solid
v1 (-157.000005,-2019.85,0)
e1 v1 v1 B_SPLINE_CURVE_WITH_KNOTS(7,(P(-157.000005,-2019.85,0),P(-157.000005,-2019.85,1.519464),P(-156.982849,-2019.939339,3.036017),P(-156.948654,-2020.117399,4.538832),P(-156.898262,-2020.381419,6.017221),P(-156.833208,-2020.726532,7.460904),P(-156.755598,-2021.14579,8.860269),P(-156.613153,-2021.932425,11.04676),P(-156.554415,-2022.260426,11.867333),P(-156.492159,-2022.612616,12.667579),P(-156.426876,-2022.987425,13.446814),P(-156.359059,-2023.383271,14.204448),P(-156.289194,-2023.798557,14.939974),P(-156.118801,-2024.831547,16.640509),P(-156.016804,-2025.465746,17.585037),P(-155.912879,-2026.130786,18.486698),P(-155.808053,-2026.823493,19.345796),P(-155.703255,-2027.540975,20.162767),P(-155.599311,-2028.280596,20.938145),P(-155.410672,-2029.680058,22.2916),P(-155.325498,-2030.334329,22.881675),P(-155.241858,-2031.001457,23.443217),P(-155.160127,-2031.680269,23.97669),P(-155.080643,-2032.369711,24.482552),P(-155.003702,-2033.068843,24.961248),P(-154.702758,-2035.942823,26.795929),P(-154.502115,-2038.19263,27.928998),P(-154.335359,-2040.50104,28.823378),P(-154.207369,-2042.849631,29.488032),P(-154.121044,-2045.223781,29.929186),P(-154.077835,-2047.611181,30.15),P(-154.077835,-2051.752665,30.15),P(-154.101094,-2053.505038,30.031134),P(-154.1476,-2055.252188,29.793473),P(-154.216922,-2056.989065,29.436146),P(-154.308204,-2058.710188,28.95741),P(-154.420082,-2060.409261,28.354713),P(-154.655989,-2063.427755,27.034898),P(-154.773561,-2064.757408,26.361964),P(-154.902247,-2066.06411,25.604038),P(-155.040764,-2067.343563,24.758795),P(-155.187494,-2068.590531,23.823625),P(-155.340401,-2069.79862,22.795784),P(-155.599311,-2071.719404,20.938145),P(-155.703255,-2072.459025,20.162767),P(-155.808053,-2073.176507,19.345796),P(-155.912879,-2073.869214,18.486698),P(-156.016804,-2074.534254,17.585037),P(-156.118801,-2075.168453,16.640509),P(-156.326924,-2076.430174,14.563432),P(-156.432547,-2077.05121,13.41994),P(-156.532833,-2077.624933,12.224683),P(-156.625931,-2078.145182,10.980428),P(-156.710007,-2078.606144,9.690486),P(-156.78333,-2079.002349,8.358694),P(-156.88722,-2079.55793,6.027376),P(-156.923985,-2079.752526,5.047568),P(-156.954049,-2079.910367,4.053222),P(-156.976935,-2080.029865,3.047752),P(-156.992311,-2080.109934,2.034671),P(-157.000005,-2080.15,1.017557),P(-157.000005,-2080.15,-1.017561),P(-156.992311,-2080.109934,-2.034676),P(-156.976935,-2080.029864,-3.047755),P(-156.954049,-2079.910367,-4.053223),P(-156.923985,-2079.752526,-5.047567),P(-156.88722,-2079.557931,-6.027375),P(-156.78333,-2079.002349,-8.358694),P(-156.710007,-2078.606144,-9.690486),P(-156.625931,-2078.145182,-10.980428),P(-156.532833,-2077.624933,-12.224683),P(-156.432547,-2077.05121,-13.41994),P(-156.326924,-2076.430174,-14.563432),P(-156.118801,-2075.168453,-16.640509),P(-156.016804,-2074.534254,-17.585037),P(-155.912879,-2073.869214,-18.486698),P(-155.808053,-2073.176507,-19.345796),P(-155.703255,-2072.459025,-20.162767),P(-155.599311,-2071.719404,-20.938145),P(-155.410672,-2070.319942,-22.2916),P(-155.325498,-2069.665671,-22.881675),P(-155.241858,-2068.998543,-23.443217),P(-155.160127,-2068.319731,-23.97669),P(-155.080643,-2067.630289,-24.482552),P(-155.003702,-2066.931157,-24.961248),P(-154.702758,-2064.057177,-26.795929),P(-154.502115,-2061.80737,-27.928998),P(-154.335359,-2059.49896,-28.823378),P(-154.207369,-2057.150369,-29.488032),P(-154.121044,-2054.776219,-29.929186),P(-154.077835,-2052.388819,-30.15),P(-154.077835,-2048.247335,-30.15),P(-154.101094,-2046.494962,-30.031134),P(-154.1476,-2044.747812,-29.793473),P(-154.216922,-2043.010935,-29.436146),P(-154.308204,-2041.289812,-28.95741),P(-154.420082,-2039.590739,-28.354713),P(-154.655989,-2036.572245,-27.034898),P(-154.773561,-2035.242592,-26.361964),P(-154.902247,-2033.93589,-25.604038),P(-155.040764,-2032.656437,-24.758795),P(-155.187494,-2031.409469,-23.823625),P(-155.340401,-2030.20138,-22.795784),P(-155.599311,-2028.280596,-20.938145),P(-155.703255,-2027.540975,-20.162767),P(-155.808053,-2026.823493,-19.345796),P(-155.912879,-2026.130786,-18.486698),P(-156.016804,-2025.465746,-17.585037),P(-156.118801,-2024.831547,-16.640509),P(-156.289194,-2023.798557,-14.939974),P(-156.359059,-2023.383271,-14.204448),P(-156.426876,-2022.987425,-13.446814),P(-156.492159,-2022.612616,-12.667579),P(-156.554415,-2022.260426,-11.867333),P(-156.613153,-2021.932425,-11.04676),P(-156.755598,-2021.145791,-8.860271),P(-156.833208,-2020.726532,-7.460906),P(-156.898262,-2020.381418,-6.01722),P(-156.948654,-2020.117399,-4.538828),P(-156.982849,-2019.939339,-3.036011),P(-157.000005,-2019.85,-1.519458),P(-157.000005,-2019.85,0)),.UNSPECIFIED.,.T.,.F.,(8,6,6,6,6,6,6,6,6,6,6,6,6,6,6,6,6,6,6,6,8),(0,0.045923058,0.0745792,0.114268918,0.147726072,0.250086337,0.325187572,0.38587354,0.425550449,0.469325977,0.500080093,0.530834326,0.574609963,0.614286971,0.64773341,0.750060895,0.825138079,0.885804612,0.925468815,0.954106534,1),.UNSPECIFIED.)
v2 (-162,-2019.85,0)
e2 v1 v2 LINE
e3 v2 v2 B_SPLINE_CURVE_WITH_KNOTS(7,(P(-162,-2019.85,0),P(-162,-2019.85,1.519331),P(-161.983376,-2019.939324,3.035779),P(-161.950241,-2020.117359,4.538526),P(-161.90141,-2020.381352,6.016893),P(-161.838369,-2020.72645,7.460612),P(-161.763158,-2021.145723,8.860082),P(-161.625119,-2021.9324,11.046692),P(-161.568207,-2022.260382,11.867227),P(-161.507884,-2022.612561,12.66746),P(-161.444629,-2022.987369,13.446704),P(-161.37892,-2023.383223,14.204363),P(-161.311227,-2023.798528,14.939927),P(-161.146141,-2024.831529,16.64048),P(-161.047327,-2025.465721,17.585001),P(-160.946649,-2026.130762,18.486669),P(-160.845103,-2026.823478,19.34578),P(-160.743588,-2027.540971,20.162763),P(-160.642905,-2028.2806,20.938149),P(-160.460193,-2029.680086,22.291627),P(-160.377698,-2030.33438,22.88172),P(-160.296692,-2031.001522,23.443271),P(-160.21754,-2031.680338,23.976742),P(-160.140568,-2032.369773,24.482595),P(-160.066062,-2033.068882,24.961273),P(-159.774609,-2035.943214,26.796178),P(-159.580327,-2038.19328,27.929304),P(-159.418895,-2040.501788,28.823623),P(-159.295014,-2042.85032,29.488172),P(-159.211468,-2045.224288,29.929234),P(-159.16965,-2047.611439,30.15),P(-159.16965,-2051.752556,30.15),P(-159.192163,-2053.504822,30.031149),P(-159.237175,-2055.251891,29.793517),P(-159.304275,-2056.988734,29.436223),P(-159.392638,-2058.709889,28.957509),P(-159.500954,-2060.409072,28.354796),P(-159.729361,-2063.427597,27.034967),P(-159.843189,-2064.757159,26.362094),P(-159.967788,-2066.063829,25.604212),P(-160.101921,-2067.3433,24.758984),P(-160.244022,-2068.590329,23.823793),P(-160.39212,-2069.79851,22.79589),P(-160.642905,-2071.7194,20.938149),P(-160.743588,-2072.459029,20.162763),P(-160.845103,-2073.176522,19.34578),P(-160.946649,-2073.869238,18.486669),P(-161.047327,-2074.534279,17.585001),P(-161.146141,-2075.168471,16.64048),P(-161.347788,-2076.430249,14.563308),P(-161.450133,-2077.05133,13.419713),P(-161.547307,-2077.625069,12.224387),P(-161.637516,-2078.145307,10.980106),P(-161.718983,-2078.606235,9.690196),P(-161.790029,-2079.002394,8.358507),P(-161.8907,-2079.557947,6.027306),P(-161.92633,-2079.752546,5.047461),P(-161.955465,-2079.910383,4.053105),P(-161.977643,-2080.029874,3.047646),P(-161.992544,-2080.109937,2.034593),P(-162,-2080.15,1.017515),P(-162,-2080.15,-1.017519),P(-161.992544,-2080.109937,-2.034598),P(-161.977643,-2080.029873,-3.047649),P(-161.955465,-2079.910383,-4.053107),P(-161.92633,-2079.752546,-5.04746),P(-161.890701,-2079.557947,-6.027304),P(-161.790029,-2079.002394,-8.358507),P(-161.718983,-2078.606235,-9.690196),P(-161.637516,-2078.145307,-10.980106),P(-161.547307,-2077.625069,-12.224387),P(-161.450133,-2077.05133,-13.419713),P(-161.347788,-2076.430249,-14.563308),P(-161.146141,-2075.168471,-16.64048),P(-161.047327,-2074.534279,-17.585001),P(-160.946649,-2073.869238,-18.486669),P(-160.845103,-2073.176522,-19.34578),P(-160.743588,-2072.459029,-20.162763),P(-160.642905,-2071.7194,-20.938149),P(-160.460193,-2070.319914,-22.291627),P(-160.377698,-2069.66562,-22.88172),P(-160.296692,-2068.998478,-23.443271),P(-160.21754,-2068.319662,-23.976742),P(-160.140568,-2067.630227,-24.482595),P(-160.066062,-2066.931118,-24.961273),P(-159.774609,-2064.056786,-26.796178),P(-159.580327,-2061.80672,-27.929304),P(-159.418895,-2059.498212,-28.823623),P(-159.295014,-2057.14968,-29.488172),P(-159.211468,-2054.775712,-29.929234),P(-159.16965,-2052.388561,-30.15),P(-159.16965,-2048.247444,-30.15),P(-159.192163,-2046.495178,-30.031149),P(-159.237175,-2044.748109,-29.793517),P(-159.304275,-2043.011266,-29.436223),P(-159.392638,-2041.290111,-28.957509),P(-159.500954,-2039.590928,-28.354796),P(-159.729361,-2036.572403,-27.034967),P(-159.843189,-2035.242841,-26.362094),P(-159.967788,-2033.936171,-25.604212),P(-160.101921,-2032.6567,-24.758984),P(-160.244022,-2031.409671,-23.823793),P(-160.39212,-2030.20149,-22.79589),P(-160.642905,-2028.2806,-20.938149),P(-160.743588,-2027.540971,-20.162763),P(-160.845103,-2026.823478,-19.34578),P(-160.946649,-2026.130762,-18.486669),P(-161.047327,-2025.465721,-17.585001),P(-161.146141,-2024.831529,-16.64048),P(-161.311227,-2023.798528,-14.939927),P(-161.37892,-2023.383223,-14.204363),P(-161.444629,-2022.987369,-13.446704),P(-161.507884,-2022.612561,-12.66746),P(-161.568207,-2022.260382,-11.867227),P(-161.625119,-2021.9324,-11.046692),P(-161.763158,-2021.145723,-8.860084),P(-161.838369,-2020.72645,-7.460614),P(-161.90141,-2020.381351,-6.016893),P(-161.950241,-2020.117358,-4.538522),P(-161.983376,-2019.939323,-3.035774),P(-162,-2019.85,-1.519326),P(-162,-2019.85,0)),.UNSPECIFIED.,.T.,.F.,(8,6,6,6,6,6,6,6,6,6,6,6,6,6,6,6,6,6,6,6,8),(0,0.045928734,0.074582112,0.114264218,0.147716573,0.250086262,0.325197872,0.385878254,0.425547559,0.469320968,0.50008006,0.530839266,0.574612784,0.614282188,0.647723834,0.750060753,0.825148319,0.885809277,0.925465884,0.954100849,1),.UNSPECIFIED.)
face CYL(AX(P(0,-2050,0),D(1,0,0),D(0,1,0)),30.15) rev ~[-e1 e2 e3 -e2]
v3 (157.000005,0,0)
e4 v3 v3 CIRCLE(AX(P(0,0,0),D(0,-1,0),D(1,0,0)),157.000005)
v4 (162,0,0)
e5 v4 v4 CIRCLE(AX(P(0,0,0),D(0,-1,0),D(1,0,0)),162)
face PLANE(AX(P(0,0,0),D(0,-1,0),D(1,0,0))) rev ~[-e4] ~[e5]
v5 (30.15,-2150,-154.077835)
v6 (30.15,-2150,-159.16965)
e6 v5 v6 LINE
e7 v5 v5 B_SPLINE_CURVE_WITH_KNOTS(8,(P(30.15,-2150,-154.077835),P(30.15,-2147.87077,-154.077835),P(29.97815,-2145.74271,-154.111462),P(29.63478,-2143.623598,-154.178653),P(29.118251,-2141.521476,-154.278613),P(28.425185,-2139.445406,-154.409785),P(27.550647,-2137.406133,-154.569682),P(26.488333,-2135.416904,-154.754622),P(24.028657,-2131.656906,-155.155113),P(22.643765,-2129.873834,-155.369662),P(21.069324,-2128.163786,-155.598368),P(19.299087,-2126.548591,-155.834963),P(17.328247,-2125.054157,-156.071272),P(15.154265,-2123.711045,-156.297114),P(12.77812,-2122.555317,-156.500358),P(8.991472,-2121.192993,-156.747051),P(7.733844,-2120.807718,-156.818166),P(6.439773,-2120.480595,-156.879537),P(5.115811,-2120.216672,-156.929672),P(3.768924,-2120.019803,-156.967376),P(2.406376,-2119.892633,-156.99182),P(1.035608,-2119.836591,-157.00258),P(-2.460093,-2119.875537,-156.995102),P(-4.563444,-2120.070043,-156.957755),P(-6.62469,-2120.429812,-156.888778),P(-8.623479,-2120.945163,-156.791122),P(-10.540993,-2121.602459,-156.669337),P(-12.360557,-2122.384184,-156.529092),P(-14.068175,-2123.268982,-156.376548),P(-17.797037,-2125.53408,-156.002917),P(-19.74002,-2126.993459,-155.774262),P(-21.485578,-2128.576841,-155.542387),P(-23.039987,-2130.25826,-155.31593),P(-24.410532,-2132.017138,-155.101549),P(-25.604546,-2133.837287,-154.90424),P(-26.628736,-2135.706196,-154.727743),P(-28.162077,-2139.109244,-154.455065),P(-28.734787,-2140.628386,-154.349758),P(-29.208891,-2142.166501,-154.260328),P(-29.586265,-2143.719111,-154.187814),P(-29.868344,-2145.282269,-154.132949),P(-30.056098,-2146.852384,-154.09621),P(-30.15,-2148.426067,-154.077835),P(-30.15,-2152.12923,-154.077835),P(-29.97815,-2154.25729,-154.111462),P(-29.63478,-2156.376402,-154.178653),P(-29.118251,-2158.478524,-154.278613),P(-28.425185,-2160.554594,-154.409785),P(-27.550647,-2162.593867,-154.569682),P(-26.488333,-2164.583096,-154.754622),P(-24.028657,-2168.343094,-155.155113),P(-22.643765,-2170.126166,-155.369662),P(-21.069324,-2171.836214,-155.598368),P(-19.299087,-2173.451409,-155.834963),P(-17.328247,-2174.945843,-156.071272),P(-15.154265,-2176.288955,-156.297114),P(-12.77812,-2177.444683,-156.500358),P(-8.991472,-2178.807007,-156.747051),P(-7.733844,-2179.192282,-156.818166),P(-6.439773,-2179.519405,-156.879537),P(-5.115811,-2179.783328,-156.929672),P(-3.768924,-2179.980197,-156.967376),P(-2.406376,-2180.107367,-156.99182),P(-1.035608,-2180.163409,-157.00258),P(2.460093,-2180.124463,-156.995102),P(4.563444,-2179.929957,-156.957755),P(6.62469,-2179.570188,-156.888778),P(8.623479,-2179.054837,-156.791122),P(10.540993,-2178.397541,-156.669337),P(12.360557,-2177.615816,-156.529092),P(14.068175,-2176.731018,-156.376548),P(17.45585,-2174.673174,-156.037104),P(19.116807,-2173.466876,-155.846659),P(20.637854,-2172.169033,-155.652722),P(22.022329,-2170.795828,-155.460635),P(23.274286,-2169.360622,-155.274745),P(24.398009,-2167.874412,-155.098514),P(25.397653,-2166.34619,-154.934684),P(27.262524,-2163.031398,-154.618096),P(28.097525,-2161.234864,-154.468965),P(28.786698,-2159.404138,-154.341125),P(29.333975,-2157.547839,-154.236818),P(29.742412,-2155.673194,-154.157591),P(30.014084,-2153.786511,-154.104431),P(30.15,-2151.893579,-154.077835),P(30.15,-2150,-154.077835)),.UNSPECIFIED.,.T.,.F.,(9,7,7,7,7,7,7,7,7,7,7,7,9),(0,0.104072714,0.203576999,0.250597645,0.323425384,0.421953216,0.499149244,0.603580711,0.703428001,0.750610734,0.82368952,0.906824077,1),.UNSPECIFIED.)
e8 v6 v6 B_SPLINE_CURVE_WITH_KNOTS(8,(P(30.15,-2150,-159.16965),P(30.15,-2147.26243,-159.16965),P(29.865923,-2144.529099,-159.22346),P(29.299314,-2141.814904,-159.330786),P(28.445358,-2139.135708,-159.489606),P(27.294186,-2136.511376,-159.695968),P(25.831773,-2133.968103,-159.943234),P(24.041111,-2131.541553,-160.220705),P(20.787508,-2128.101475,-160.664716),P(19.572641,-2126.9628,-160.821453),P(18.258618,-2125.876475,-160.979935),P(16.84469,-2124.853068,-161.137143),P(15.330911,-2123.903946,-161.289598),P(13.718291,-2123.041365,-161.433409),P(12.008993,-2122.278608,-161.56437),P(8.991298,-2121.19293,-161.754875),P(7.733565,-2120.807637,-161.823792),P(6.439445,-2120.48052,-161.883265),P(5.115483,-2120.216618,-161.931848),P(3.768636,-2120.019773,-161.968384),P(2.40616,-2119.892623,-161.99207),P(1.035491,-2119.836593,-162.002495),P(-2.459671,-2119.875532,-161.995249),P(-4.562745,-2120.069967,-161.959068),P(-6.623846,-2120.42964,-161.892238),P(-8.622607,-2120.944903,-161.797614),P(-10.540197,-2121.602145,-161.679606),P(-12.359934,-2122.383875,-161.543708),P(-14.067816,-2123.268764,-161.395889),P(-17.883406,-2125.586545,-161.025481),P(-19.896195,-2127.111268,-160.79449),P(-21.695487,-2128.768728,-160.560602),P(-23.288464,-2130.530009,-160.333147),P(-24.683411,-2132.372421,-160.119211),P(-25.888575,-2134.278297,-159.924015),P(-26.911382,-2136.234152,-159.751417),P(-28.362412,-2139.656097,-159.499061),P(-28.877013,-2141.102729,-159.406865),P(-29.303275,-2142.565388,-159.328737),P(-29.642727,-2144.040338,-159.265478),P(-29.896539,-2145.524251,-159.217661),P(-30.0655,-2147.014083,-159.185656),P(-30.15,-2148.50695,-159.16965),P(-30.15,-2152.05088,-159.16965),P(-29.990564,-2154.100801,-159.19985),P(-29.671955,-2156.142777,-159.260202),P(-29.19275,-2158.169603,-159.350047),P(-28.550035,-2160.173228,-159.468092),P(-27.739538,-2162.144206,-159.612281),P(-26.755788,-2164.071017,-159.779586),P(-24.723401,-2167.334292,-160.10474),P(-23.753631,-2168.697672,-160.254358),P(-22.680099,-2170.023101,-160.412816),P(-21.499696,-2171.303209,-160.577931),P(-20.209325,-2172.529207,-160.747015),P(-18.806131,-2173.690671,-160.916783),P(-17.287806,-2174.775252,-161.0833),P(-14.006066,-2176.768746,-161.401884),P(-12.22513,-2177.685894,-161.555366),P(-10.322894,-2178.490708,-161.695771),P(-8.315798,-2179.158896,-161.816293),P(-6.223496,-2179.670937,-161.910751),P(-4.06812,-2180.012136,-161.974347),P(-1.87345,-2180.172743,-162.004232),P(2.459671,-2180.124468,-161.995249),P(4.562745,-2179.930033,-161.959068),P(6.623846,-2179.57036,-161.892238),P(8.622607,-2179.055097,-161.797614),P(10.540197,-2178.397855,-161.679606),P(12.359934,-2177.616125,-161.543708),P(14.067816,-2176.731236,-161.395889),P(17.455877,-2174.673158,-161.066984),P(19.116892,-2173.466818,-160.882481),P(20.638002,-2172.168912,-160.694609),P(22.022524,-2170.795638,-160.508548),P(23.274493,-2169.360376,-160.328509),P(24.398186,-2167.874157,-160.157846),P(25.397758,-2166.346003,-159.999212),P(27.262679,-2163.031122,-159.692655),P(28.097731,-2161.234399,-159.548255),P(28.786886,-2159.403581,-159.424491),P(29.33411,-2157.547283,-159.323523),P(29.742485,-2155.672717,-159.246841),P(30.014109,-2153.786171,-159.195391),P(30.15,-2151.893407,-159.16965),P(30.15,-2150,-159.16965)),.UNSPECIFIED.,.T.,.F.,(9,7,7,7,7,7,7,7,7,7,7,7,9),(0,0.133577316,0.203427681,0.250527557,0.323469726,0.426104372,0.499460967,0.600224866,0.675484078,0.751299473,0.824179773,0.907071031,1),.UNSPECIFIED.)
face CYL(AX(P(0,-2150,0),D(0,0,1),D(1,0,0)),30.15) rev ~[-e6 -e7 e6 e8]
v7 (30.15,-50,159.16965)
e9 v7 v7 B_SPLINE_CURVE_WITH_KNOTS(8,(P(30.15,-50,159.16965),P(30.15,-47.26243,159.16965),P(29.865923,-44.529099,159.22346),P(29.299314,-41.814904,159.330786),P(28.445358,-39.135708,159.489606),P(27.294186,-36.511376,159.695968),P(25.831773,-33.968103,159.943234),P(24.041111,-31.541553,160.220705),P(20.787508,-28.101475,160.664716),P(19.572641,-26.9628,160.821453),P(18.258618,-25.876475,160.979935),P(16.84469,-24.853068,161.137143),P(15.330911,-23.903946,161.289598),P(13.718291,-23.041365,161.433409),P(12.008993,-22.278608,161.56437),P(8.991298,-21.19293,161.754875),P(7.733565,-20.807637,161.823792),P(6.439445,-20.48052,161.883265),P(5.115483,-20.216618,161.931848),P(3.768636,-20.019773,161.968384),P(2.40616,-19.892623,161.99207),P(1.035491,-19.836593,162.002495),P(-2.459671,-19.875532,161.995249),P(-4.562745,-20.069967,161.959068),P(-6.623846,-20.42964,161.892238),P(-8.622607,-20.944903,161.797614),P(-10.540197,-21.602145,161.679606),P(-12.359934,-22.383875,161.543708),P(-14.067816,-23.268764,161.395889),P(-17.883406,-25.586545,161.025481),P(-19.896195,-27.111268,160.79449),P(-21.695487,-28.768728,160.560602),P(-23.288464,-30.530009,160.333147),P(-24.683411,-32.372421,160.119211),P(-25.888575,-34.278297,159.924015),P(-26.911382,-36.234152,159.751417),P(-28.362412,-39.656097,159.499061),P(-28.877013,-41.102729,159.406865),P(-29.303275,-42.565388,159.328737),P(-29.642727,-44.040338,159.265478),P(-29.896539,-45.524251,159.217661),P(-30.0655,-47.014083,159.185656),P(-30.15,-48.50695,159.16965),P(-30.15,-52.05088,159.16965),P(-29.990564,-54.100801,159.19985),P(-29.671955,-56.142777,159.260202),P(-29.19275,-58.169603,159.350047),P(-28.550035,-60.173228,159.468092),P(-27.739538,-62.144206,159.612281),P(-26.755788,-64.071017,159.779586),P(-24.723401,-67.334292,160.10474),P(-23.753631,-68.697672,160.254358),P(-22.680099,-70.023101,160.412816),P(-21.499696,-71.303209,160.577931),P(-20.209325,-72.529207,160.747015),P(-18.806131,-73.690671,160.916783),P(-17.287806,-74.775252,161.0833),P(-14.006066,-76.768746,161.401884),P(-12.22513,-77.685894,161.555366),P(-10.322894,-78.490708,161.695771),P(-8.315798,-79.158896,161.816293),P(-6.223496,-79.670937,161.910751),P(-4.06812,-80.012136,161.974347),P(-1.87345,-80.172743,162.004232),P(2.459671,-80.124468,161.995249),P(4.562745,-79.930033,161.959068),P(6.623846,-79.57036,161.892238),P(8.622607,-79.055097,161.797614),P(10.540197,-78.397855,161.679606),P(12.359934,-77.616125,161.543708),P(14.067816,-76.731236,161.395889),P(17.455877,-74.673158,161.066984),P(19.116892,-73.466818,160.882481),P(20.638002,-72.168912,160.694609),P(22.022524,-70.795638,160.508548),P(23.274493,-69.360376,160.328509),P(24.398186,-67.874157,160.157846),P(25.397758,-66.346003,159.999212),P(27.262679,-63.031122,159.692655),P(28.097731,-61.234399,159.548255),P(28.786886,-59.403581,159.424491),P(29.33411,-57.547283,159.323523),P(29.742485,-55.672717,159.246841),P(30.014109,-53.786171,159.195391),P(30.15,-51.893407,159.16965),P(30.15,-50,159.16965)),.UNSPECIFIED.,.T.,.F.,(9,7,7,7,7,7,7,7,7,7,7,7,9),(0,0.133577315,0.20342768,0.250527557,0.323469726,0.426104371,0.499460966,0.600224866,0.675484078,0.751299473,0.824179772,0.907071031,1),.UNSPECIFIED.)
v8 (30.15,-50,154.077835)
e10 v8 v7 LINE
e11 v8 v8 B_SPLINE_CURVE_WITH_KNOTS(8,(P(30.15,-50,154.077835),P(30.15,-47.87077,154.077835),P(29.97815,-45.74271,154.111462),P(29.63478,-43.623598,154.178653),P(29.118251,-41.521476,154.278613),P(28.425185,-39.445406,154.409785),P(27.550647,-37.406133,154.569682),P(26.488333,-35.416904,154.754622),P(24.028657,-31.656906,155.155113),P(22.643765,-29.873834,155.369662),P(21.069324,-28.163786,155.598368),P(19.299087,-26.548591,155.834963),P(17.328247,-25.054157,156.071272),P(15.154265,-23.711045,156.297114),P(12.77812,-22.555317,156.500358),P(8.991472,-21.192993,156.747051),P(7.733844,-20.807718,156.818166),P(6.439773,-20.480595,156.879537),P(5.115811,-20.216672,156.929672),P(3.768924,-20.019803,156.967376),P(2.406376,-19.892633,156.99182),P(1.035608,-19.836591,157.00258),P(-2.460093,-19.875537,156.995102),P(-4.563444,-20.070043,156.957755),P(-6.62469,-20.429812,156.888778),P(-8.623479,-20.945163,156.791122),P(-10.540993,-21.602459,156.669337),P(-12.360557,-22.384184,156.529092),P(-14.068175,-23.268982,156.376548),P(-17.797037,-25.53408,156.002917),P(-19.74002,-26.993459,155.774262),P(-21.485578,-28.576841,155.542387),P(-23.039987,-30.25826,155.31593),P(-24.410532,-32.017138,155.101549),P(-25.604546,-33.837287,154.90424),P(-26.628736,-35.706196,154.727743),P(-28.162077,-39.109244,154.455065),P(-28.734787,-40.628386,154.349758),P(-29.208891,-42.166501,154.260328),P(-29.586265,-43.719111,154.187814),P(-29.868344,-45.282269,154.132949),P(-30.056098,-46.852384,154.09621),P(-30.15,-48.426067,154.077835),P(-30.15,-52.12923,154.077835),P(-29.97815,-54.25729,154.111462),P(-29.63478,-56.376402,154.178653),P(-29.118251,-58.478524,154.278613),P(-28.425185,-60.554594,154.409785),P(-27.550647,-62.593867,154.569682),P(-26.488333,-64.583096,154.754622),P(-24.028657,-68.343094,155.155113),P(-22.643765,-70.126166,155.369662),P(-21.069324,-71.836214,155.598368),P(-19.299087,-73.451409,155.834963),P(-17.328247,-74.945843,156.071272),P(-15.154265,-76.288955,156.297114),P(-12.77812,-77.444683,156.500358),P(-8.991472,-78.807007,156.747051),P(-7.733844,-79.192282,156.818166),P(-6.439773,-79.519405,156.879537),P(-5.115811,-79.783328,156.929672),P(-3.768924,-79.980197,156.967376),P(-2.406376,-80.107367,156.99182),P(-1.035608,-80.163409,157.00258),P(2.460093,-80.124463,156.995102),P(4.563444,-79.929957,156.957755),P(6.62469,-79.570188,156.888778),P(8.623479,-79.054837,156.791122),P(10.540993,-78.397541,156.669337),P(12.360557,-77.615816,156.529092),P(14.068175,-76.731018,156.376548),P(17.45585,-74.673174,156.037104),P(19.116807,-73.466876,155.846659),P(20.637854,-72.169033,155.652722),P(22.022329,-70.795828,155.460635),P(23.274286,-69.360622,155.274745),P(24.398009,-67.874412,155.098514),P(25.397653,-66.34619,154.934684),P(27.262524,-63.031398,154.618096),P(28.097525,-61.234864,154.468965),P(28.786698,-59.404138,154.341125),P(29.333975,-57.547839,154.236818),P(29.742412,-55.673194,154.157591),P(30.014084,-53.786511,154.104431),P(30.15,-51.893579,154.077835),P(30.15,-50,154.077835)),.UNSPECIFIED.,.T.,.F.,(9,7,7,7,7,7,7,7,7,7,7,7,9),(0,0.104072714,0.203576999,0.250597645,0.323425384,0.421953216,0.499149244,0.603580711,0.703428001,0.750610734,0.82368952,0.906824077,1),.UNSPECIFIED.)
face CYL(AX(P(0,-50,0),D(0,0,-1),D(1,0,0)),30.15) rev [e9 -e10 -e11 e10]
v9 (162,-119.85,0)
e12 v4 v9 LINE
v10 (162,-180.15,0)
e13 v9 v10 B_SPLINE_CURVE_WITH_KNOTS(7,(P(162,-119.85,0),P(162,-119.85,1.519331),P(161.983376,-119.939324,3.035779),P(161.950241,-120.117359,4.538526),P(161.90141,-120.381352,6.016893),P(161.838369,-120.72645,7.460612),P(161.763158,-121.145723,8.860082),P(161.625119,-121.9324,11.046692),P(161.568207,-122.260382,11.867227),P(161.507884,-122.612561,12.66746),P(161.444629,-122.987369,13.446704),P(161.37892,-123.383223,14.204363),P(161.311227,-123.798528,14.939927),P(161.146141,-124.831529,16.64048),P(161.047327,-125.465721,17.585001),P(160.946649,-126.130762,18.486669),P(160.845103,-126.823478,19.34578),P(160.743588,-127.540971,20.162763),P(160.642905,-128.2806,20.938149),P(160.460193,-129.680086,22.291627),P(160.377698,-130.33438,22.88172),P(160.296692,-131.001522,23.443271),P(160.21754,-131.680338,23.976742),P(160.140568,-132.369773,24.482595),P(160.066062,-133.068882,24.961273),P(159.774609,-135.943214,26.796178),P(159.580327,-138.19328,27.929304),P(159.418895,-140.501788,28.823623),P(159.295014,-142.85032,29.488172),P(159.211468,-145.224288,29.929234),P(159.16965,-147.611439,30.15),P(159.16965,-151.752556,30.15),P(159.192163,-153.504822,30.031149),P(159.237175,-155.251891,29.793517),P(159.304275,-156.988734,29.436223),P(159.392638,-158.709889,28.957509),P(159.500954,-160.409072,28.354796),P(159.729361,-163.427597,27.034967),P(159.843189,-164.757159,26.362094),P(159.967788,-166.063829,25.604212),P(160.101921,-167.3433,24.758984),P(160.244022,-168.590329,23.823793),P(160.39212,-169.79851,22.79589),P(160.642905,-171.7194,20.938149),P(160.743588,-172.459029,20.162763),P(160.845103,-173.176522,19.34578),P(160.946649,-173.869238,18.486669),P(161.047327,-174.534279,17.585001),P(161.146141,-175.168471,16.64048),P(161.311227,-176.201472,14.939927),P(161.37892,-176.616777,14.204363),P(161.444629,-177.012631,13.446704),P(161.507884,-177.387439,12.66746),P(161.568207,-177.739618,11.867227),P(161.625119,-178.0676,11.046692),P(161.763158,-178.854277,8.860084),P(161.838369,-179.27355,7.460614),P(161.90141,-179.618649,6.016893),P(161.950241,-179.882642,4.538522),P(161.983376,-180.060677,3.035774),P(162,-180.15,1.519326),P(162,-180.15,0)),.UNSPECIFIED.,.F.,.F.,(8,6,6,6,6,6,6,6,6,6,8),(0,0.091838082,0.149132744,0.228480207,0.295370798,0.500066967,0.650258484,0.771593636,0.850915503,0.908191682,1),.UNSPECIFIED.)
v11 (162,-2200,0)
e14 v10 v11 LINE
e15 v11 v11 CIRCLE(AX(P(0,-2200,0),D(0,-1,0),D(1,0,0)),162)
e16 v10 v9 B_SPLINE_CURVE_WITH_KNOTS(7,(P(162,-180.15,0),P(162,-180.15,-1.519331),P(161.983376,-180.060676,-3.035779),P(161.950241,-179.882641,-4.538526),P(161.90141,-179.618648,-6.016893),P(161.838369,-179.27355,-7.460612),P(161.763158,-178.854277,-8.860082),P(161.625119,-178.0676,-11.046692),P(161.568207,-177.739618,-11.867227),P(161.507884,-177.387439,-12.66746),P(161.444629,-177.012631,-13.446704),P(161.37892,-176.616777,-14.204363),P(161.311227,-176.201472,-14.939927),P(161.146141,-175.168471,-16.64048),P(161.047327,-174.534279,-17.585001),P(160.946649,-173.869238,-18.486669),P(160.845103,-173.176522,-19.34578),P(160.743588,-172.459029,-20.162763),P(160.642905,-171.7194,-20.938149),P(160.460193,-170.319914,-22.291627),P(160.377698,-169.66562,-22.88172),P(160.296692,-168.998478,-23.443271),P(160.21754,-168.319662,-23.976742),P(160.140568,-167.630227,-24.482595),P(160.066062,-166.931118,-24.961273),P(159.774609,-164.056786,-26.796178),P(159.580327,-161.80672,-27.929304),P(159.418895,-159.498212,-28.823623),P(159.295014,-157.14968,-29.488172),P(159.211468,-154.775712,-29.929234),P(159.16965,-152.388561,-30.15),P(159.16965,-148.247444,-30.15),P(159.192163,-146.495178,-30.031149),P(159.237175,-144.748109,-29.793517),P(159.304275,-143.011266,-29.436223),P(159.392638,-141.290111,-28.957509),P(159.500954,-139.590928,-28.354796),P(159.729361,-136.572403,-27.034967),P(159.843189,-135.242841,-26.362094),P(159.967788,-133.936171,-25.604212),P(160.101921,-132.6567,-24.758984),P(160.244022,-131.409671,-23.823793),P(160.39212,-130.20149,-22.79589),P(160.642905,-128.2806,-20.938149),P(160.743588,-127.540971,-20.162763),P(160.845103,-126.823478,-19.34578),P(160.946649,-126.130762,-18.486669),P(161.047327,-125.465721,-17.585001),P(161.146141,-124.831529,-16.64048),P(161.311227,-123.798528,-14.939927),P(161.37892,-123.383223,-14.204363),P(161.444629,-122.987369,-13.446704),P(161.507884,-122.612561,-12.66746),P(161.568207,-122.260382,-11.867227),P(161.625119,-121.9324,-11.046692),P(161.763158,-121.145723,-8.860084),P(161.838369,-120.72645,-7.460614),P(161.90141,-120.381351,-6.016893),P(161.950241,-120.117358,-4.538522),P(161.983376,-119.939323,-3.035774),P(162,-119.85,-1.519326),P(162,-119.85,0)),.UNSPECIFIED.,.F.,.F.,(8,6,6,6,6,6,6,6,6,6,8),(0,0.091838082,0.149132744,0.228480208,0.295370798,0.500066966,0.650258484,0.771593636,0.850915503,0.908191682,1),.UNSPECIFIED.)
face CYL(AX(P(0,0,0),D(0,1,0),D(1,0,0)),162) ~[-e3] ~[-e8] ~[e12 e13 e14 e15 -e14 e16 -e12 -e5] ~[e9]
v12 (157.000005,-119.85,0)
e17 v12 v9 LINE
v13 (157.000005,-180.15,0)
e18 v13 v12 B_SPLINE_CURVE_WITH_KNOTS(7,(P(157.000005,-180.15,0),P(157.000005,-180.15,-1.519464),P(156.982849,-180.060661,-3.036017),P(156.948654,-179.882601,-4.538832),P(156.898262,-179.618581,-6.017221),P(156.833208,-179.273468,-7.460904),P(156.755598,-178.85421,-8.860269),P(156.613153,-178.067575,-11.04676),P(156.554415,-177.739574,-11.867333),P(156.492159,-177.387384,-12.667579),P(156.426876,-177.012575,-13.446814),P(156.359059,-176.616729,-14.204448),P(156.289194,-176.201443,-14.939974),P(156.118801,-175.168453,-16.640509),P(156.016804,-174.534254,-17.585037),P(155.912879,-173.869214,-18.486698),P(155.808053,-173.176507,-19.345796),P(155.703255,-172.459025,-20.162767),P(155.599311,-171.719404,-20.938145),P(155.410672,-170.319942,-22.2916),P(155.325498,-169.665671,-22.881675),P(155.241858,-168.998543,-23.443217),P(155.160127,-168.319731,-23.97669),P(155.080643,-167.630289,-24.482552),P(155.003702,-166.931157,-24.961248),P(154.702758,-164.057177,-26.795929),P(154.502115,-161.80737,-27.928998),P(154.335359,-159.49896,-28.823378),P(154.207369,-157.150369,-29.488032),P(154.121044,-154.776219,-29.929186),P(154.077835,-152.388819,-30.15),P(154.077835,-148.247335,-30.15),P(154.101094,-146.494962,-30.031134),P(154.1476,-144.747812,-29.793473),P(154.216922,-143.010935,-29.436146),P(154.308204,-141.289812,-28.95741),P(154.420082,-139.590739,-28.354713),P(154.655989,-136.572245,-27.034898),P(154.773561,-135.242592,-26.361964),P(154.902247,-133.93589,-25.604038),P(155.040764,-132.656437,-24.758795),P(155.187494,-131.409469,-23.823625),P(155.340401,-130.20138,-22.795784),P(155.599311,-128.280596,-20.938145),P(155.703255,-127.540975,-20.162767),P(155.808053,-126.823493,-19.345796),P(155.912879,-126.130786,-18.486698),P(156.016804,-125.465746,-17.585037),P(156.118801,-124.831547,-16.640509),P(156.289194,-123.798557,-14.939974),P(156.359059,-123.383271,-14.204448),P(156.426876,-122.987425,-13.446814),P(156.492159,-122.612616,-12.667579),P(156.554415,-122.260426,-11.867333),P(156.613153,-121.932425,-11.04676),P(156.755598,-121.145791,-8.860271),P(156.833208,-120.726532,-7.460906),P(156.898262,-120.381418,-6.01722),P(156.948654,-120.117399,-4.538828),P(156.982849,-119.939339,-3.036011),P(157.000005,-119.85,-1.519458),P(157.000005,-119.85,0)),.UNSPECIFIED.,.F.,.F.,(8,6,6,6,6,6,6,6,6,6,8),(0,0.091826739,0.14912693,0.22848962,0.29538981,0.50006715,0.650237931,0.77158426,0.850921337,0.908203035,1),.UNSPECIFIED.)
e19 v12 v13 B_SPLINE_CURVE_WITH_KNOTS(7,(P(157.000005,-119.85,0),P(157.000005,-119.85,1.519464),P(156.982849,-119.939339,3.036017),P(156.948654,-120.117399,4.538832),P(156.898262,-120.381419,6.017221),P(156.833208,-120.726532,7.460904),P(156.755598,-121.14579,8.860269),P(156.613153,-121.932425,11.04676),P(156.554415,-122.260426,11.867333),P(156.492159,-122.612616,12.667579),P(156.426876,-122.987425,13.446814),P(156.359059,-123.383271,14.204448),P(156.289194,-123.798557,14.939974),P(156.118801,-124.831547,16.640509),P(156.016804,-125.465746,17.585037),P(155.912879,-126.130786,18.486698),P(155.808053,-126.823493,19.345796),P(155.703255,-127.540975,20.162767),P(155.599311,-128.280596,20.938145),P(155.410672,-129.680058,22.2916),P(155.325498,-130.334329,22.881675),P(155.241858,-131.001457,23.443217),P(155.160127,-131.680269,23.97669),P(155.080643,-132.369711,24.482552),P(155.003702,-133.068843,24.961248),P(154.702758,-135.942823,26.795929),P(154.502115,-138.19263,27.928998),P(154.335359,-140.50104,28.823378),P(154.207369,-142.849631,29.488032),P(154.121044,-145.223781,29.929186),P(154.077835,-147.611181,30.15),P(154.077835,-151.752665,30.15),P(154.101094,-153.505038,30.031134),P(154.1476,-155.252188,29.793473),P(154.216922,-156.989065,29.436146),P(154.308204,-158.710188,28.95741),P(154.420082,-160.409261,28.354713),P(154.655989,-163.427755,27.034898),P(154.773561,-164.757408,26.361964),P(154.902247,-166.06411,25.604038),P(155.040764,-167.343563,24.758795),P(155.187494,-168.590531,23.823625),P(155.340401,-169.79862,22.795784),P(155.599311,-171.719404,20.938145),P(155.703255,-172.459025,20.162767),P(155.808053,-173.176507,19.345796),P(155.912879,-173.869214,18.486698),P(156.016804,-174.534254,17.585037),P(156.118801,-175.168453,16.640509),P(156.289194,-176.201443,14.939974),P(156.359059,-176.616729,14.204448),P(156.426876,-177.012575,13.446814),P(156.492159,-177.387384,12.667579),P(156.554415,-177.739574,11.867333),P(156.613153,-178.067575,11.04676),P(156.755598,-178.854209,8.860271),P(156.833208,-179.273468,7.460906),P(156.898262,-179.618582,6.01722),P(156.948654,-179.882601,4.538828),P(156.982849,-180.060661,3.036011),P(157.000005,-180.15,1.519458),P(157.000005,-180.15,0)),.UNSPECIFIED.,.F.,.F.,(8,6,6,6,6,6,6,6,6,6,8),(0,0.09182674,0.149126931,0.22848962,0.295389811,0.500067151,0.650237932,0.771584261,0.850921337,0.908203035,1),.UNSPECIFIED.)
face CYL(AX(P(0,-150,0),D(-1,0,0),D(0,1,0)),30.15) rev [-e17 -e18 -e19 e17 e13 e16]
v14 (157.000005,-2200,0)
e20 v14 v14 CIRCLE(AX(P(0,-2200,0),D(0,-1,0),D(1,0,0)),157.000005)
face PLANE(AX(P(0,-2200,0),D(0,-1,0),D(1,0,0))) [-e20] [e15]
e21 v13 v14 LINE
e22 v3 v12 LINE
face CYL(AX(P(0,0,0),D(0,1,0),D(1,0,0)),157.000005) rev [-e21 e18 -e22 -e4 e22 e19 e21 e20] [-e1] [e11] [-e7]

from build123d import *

# Parameters (mm, degrees)
F0_R     = 162
F0_R_2   = 157.0000052452
F1_DEPTH = 2200
F2_R     = 30.15
F3_DEPTH = 163.000000104
F4_R     = 30.15
F5_DEPTH = 163.0000001
F6_DEPTH = 163.0000001
F7_DEPTH = 163.000000104


with BuildPart() as f1:
    # F0 (on Front) → F1 (new body)
    with BuildSketch(Plane.XZ):
        Circle(F0_R)
        Circle(F0_R_2, mode=Mode.SUBTRACT)
    extrude(amount=F1_DEPTH)

    # F2 (on Top) → F3 (cut, up to face)
    with BuildSketch(Plane.XY):
        with Locations((0, -50)):
            Circle(F2_R)
    extrude(amount=F3_DEPTH, mode=Mode.SUBTRACT)

    # F4 (on Right) → F5 (cut, up to face)
    with BuildSketch(Plane.YZ):
        with Locations((-150, 0)):
            Circle(F4_R)
    extrude(amount=F5_DEPTH, mode=Mode.SUBTRACT)

    # F4 (on Right) → F6 (cut, up to face)
    with BuildSketch(Plane.YZ):
        with Locations((-2050, 0)):
            Circle(F4_R)
    extrude(amount=-F6_DEPTH, mode=Mode.SUBTRACT)

    # F2 (on Top) → F7 (cut, up to face)
    with BuildSketch(Plane.XY):
        with Locations((0, -2150)):
            Circle(F2_R)
    extrude(amount=-F7_DEPTH, mode=Mode.SUBTRACT)


solid = f1.part
